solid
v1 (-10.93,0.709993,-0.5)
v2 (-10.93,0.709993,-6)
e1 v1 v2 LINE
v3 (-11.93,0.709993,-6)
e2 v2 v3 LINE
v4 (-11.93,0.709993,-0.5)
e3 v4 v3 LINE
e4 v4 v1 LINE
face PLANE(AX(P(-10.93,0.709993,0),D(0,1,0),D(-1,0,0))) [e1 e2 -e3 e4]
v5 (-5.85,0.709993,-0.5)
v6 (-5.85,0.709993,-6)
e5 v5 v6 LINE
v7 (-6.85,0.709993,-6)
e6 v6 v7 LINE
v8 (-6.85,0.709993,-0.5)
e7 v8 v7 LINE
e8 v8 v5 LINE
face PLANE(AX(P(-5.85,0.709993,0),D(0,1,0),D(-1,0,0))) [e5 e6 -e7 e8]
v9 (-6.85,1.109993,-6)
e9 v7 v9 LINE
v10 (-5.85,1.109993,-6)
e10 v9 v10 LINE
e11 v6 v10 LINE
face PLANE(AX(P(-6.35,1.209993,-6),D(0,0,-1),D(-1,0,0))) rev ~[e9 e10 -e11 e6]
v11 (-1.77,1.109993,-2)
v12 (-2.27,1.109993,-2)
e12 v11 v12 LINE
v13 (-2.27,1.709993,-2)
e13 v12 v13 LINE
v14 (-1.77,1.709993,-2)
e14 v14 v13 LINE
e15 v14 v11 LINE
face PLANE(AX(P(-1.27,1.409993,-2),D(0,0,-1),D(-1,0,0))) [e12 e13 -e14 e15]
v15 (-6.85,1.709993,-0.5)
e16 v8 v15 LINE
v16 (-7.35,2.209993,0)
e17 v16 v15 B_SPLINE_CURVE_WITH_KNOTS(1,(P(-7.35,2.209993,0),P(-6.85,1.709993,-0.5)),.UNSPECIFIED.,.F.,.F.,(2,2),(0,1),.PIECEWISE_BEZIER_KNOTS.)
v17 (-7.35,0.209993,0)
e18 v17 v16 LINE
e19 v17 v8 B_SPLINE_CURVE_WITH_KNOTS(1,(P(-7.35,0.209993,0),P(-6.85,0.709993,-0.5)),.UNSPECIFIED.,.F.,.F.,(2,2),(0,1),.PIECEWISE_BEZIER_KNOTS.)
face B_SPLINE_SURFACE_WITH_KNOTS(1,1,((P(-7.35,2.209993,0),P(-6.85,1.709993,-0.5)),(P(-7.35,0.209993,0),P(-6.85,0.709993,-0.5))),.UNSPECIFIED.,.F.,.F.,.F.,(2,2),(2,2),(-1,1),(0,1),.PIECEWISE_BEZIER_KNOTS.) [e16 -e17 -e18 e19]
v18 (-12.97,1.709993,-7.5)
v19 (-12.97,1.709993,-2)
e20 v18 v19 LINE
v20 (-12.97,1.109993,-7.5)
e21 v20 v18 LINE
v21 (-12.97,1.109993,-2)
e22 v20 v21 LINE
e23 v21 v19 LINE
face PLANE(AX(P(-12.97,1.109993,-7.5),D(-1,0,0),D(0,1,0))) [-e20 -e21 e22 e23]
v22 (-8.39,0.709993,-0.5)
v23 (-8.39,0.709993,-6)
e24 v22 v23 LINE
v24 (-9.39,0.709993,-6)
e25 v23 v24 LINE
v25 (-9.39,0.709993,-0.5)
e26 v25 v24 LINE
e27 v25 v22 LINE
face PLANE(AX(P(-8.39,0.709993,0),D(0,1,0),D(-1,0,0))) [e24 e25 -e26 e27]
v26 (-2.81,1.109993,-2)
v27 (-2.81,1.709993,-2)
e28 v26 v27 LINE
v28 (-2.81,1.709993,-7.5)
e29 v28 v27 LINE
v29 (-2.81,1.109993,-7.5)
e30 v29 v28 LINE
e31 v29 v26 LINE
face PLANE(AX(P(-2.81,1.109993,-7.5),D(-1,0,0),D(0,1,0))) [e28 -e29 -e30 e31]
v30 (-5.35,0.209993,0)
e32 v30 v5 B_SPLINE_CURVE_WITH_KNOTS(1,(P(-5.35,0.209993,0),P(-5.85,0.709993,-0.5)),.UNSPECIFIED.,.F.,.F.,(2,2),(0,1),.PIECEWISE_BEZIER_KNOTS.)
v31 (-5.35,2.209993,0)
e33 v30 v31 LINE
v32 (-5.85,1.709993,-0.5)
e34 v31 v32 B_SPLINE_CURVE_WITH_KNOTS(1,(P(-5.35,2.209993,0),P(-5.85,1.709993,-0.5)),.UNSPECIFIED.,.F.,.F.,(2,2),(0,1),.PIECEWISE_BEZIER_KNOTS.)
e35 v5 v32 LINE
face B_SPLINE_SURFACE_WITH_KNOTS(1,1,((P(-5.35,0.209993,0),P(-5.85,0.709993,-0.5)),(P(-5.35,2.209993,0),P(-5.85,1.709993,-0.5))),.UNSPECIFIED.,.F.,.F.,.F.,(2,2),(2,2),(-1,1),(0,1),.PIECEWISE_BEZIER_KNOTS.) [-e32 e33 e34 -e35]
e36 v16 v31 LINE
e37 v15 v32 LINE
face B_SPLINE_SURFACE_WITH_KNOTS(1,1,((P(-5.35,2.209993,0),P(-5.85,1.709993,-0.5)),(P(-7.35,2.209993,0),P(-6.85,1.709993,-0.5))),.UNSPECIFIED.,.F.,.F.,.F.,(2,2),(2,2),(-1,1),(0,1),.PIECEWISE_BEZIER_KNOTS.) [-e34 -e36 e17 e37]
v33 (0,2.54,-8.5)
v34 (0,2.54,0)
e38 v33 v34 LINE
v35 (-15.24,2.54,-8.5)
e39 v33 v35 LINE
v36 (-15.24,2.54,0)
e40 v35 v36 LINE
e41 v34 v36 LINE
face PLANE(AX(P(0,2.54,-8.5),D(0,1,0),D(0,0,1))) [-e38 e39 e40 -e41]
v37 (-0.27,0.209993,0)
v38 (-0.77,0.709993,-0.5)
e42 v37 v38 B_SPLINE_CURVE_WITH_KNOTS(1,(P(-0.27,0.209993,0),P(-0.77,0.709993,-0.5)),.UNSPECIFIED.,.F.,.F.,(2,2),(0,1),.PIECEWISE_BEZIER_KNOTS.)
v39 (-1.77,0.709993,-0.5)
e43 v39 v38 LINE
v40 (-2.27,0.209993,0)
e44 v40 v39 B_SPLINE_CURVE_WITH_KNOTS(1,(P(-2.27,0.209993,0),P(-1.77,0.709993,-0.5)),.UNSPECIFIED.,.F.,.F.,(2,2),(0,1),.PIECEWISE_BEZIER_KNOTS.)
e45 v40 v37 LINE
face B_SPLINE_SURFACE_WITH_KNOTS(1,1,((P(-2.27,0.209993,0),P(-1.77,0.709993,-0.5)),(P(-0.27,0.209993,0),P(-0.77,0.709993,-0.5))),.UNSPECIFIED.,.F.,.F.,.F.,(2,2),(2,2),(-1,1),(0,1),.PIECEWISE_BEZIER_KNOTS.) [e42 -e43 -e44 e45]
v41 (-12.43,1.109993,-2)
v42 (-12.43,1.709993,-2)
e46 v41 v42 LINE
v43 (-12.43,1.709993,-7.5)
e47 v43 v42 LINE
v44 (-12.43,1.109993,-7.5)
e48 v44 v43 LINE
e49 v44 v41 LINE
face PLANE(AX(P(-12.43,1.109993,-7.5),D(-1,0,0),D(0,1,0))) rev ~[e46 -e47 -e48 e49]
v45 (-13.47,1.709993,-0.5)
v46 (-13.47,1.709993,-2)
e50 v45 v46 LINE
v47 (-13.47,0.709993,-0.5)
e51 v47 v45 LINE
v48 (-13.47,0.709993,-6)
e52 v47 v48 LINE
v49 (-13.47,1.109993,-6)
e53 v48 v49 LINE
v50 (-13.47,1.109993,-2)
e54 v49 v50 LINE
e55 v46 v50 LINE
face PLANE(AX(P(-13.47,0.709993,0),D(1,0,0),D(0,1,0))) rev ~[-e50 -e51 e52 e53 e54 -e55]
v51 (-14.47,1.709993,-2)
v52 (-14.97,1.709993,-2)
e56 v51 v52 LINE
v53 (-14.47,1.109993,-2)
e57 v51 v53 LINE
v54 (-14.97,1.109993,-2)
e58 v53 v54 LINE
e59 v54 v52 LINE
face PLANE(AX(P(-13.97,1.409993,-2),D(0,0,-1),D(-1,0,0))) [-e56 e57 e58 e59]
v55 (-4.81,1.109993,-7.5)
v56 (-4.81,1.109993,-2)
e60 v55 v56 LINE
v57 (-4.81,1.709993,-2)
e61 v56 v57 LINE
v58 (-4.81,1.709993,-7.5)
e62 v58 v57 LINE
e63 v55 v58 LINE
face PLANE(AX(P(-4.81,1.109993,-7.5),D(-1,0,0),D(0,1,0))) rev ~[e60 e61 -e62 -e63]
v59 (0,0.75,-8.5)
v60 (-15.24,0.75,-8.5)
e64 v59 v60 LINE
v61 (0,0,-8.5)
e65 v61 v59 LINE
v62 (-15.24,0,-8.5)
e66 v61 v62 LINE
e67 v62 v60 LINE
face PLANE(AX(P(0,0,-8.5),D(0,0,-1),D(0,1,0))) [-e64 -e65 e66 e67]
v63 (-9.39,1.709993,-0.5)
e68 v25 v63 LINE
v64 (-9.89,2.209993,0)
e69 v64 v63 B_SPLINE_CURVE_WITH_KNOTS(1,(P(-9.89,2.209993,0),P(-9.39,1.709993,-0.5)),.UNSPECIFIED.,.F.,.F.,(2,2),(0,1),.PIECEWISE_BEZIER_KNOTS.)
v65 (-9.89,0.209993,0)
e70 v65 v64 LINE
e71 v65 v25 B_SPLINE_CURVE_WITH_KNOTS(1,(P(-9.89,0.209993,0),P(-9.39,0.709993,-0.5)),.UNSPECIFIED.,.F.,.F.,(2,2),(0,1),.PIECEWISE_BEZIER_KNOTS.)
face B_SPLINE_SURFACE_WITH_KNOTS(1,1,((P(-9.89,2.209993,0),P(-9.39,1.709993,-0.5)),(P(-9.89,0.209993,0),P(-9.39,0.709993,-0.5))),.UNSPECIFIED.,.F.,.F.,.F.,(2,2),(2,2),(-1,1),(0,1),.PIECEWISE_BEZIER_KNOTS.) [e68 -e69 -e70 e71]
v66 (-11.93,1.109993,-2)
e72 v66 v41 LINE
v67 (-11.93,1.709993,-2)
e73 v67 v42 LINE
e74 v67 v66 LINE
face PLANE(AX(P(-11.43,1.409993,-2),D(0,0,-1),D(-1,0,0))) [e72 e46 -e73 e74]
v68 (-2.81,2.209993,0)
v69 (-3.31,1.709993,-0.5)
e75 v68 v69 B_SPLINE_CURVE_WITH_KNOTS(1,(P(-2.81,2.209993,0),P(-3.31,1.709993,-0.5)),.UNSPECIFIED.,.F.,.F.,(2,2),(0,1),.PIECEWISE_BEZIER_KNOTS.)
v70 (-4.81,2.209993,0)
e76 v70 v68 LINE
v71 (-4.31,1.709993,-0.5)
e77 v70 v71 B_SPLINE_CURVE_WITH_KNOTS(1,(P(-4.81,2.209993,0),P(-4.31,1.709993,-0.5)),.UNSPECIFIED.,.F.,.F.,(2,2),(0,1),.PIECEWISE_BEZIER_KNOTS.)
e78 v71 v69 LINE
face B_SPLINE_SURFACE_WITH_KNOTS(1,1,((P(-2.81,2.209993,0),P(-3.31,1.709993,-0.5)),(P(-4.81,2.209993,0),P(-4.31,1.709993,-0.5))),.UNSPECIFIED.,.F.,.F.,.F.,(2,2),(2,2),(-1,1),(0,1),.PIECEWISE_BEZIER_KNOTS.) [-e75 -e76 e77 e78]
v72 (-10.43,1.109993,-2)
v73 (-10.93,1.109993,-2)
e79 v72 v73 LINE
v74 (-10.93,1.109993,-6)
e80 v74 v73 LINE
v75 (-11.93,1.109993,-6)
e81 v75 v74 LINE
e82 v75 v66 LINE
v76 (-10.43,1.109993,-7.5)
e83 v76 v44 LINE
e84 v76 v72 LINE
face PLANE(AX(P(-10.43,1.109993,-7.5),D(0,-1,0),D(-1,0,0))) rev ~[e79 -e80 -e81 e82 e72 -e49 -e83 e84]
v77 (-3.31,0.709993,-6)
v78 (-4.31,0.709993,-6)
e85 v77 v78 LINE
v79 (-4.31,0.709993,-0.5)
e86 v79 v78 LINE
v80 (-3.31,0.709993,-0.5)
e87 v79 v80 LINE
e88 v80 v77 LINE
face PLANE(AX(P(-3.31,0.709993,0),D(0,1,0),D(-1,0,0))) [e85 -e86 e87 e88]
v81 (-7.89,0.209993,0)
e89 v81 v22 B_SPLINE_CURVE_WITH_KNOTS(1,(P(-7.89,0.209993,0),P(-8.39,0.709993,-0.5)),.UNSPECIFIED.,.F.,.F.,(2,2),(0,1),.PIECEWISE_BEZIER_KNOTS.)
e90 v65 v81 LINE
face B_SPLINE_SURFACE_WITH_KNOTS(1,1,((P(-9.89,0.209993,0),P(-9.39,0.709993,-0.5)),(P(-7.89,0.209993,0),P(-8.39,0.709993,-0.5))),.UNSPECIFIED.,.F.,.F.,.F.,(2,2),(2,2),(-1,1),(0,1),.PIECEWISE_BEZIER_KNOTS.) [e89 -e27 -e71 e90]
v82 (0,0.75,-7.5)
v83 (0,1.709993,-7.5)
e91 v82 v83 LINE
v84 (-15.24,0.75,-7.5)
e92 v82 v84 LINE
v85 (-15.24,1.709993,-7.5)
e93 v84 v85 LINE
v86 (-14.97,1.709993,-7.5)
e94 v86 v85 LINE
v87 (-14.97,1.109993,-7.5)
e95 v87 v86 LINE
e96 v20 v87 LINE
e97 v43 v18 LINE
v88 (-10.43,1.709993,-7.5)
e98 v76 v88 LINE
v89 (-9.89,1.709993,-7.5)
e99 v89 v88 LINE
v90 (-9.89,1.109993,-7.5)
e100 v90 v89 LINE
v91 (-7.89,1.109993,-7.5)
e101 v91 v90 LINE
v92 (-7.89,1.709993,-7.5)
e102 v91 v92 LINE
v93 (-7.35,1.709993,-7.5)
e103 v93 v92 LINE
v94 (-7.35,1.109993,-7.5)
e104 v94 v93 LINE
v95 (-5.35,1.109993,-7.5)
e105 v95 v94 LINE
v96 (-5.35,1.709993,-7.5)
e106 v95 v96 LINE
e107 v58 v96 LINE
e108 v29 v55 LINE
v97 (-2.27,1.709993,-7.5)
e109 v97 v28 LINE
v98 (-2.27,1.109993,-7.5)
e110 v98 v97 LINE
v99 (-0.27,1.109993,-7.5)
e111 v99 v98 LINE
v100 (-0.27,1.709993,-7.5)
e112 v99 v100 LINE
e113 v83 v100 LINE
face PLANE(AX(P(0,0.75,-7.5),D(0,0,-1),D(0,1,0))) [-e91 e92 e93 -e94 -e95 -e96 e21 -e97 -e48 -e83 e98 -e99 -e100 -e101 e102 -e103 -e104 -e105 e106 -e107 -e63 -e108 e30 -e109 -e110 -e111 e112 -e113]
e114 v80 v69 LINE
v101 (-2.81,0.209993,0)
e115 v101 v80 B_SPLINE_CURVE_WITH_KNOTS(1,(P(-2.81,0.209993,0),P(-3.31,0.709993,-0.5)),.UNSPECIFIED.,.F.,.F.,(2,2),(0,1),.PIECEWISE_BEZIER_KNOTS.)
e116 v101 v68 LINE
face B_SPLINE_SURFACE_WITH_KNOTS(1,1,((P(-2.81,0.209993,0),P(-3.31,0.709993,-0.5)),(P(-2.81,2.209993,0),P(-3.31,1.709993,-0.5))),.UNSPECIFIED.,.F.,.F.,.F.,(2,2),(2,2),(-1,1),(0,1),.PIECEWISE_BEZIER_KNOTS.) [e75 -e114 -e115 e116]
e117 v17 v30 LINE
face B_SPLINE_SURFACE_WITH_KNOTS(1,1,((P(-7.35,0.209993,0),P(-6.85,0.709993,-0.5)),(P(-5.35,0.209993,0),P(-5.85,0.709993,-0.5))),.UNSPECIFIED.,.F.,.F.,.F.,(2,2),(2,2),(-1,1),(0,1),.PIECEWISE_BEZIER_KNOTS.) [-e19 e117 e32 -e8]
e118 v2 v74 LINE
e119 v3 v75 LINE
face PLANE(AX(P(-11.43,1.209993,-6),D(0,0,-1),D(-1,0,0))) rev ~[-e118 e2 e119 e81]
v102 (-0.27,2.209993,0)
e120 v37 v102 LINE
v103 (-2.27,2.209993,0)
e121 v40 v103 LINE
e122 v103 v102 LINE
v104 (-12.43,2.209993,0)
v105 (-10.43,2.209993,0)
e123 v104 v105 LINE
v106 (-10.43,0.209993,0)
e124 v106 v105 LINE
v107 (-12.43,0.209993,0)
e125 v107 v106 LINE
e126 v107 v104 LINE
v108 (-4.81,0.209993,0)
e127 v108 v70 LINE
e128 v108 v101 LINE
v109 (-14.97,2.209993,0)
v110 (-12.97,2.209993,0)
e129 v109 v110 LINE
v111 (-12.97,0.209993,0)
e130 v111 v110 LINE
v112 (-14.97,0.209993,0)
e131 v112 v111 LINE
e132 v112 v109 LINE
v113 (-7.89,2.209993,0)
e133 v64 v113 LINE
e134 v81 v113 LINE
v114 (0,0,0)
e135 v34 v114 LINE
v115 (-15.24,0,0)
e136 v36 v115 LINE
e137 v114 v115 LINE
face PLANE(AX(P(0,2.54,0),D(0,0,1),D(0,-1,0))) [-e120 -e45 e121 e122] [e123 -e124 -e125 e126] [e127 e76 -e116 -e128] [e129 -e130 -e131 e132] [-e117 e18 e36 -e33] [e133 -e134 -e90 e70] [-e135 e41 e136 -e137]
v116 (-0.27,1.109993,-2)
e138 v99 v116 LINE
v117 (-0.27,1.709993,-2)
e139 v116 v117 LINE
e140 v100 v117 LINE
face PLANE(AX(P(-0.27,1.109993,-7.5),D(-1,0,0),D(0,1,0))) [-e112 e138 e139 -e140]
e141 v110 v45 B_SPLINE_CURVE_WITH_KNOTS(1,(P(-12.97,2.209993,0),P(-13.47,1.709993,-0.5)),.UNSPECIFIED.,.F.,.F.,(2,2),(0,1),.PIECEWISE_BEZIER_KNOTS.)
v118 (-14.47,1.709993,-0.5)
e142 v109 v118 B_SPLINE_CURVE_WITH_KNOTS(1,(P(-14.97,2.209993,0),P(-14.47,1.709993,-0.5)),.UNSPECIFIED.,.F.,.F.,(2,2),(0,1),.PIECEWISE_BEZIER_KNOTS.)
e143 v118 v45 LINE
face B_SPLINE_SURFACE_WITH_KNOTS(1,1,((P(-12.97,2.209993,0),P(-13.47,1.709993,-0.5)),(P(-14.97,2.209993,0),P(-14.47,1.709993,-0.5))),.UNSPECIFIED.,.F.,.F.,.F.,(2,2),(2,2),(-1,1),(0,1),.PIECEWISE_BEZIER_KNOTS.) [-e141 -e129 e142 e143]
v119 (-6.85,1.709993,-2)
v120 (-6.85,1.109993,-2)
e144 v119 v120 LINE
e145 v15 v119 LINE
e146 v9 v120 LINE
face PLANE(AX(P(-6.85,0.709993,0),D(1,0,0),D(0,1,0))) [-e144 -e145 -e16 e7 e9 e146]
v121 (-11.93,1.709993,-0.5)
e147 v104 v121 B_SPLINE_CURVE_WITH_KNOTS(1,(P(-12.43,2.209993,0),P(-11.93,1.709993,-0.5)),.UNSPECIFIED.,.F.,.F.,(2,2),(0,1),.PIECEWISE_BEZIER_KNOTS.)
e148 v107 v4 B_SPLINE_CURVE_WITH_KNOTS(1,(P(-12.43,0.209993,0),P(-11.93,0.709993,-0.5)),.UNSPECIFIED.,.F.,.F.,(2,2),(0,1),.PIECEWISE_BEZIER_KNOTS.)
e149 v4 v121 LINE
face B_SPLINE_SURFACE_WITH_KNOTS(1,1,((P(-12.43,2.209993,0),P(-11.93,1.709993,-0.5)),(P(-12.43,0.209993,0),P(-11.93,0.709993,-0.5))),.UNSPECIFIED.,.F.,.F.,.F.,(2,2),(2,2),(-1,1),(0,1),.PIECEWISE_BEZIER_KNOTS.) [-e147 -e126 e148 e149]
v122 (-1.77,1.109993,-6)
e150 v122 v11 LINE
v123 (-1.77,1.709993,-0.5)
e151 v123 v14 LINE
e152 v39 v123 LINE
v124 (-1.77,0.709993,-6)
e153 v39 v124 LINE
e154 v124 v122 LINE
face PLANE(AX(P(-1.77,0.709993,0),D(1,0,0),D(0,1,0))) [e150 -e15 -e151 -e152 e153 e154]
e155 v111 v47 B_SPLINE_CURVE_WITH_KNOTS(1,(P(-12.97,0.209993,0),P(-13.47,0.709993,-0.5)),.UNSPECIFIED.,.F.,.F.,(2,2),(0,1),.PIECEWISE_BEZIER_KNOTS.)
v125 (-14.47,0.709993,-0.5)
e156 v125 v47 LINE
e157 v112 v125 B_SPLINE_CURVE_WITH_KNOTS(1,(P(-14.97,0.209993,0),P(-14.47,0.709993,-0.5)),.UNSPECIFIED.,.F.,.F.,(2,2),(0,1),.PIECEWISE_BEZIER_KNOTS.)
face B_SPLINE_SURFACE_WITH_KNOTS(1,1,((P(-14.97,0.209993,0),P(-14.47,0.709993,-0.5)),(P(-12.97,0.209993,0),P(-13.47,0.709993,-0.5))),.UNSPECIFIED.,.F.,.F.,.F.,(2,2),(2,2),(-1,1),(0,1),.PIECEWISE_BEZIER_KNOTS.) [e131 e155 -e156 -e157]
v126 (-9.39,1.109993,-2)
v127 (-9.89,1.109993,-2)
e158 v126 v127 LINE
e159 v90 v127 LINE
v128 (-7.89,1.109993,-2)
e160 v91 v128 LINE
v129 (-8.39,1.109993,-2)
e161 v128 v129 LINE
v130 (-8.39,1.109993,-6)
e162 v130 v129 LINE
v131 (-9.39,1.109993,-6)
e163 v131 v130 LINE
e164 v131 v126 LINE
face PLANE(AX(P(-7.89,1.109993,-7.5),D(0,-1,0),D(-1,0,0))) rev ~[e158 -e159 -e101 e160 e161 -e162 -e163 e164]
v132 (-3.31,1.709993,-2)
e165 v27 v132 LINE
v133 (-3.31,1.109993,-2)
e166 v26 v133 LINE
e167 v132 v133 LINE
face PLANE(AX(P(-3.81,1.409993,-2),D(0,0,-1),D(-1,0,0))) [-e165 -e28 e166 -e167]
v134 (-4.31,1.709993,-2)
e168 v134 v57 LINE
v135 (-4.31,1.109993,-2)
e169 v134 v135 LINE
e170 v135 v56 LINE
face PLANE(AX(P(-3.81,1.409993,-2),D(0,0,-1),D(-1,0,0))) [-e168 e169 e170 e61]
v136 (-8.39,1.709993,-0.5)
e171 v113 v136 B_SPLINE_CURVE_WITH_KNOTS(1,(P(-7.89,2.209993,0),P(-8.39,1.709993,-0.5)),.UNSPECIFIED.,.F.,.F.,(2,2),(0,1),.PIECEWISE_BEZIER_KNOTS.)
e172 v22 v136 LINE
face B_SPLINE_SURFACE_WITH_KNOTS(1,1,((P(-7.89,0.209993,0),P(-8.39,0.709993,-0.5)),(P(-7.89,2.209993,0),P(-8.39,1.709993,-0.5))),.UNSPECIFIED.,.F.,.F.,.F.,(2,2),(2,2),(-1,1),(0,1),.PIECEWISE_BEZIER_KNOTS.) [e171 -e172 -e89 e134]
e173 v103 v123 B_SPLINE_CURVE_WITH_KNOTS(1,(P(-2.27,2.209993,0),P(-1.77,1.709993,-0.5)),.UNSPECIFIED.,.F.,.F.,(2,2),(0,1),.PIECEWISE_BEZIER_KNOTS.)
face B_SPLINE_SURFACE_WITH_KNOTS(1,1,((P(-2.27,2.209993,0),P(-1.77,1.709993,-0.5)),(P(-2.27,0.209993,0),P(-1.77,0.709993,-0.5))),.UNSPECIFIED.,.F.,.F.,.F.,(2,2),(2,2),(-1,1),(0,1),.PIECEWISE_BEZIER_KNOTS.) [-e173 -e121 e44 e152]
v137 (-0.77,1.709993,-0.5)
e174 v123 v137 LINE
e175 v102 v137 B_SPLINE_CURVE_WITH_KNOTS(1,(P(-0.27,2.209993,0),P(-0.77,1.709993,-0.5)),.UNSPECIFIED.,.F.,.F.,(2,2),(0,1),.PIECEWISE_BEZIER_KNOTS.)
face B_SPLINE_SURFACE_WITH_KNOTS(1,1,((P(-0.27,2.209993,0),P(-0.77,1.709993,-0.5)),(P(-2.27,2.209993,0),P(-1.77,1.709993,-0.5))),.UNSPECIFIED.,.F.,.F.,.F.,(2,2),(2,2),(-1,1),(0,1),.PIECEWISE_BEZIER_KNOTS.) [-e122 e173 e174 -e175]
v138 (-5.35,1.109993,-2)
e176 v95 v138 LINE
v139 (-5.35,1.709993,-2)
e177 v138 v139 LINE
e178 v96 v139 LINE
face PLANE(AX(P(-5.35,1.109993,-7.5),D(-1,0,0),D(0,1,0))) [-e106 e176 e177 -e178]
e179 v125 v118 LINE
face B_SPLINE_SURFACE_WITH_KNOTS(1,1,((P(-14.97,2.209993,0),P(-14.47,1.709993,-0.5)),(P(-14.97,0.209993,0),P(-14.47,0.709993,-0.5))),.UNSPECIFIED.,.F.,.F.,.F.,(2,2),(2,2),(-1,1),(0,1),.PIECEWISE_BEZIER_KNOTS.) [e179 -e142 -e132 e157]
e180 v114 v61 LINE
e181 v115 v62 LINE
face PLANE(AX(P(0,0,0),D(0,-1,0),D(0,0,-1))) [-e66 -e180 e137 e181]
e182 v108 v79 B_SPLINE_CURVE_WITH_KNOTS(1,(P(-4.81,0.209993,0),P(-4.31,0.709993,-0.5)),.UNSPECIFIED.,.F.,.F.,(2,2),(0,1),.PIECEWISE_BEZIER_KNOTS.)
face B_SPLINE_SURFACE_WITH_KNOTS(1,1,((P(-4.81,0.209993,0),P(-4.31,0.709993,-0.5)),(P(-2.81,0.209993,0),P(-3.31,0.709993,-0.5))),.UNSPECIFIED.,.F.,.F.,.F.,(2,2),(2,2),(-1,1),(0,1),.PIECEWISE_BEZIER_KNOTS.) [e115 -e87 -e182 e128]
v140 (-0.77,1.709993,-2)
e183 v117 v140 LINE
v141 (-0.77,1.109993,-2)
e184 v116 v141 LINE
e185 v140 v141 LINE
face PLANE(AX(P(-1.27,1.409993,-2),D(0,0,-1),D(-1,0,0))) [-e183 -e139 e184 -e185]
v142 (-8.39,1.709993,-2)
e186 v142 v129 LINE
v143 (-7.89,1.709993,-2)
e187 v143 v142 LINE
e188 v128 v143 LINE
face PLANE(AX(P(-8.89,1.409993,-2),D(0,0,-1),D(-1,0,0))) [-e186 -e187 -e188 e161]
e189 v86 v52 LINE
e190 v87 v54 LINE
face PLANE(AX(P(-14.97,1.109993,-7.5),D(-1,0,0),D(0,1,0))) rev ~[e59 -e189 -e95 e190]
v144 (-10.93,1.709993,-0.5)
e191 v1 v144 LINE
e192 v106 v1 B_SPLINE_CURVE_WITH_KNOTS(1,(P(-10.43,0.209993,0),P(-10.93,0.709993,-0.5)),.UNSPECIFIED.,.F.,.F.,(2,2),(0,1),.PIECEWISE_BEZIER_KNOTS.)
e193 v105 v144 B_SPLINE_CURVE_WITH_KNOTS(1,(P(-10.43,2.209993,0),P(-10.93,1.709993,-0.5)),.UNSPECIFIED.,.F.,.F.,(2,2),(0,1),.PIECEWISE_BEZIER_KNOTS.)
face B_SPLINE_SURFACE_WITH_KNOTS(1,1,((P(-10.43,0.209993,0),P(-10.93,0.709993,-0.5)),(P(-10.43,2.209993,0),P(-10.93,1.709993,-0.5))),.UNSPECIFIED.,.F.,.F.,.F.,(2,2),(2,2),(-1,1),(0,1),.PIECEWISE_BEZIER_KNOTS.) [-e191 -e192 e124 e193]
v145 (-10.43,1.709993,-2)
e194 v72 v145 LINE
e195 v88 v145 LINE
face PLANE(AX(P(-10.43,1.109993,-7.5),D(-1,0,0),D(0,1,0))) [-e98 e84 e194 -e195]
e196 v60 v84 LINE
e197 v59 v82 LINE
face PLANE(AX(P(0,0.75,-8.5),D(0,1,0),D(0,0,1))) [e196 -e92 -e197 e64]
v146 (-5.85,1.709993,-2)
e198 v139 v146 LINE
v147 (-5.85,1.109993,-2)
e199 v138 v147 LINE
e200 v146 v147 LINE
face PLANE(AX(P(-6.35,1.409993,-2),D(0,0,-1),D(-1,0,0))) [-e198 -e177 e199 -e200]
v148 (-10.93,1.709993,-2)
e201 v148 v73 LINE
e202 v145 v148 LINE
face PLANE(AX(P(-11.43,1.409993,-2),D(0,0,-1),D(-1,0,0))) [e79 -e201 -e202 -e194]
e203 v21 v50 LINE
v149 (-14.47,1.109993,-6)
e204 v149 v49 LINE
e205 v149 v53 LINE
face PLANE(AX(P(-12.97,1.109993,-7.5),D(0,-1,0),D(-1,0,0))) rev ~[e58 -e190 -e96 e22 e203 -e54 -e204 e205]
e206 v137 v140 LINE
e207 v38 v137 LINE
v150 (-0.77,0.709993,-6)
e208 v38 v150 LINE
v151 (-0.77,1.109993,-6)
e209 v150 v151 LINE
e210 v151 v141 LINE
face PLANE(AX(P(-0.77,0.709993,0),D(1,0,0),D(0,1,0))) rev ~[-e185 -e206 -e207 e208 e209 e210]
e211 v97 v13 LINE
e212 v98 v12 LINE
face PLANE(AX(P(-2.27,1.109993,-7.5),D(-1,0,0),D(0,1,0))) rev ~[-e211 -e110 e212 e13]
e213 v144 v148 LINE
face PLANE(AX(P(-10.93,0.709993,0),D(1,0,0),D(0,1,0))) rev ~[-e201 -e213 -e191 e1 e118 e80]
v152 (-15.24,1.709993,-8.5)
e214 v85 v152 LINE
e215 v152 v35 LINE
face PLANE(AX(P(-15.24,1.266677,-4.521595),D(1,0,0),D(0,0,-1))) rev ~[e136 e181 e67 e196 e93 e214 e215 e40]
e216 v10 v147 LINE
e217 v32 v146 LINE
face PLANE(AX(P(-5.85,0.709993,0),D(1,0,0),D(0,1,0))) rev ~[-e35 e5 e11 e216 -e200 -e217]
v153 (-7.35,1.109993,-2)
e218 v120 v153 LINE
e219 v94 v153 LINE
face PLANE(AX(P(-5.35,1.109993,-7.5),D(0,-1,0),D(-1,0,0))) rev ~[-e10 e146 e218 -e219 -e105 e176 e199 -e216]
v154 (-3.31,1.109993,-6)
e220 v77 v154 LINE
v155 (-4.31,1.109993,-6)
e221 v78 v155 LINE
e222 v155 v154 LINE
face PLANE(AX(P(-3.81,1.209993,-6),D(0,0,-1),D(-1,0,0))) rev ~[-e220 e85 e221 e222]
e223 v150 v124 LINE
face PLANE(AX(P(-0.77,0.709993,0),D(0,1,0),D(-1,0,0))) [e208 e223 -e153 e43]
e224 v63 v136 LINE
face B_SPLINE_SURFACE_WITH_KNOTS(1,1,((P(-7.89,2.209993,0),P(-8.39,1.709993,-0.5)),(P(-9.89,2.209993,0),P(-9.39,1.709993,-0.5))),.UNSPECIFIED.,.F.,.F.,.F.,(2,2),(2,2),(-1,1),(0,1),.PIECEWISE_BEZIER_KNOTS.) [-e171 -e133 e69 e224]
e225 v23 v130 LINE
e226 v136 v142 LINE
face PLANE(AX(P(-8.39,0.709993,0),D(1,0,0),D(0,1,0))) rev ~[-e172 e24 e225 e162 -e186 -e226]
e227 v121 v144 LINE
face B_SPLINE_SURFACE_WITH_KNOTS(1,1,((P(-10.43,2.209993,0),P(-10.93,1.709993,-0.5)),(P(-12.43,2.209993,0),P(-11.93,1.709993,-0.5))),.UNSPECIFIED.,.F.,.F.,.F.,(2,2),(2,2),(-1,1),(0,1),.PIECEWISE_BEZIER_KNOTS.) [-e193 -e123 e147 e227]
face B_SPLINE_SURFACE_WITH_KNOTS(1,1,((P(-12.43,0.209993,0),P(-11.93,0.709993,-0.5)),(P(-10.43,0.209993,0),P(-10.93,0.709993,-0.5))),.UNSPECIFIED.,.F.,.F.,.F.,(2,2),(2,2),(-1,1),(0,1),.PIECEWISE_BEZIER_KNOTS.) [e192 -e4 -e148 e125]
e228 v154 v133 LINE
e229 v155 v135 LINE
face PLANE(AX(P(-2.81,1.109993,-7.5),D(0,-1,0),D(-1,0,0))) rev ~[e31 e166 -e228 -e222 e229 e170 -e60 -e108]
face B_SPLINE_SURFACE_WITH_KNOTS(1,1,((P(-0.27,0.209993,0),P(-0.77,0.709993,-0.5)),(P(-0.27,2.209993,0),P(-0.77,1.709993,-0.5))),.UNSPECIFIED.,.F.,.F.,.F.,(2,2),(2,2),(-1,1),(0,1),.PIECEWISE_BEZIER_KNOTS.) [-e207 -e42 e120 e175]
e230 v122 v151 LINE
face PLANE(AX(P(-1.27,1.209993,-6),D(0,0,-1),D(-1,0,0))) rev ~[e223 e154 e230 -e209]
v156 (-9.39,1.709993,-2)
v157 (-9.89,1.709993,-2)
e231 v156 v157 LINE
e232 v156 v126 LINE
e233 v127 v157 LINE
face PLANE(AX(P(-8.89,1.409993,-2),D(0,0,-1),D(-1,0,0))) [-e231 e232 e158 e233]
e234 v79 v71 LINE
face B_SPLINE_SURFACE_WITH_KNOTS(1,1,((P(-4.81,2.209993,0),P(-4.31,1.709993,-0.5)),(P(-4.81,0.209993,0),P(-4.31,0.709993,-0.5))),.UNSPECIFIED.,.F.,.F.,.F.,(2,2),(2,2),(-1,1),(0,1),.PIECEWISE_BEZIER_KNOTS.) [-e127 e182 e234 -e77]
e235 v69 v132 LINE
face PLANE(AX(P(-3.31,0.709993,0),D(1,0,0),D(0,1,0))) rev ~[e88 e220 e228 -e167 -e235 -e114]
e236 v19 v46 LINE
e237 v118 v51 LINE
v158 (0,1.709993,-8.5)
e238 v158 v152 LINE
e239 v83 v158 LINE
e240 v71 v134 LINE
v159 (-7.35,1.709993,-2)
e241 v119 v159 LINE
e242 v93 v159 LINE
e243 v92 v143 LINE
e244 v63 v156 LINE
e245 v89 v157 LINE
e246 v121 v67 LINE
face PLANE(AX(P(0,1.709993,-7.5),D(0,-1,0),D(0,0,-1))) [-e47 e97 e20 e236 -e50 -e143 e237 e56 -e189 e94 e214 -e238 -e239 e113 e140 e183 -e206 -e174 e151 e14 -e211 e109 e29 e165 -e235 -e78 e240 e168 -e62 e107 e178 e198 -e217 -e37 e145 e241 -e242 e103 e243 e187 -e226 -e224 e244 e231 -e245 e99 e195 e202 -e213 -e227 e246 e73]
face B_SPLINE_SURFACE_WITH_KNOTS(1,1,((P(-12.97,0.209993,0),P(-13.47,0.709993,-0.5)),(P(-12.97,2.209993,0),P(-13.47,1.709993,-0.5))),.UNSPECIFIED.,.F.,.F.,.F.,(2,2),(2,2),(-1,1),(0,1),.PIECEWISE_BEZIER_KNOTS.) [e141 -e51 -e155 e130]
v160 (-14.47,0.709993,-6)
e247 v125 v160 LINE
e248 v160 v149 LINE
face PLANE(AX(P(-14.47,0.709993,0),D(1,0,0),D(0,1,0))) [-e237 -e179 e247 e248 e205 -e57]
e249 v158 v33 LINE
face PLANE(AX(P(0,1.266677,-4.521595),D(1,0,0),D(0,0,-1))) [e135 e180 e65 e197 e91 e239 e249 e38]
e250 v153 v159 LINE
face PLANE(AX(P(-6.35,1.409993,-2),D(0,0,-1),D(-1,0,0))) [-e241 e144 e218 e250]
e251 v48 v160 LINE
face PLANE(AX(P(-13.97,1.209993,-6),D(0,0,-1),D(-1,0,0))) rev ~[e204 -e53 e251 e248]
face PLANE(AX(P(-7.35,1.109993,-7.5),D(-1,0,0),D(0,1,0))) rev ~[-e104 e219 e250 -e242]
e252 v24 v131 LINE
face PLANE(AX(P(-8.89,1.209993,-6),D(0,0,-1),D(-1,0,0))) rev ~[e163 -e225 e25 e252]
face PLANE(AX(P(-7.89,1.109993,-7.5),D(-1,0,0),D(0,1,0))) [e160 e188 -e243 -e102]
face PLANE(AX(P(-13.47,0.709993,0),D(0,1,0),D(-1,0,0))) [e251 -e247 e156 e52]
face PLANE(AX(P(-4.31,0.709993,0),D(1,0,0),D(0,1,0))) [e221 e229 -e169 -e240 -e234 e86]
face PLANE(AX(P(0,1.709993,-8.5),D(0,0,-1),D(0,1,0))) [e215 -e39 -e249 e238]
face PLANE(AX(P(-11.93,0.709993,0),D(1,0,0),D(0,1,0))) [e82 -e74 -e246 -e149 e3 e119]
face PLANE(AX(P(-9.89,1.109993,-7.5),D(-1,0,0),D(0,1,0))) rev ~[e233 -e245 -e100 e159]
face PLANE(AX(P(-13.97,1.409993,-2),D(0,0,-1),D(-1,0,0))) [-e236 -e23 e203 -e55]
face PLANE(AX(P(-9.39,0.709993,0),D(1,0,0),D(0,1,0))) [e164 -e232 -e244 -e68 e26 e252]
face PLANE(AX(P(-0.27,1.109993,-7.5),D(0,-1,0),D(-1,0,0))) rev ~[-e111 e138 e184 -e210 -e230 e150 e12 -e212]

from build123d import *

# Parameters (mm, degrees)
BOSS_EXTRUDE1_DEPTH = 15.24
SKETCH2_W           = 2
SKETCH2_H           = 0.6
CUT_EXTRUDE1_DEPTH  = 5.5
SKETCH3_W           = 1
SKETCH3_H           = 1
CUT_EXTRUDE2_DEPTH  = 6
SKETCH4_W           = 2
SKETCH4_H           = 2
CUT_EXTRUDE3_DEPTH  = 0.5
CUT_EXTRUDE3_TAPER  = 45
LPATTERN1_COUNT     = 8
LPATTERN1_PITCH     = 2.54


with BuildPart() as part:
    # Sketch1 → Boss-Extrude1 (new body)
    with BuildSketch(Plane(origin=(0, 0, 0), x_dir=(0, 0, -1), z_dir=(1, 0, 0))):
        Polygon((8.5, 2.54), (0, 2.54), (0, 0), (8.5, 0), (8.5, 0.75), (7.5, 0.75), (7.5, 1.709993), (8.5, 1.709993), align=None)
    extrude(amount=-BOSS_EXTRUDE1_DEPTH)

    # Sketch2 → Cut-Extrude1 (cut)
    with BuildSketch(Plane(origin=(0, 0, -7.5), x_dir=(-1, 0, 0), z_dir=(0, 0, -1))):
        with Locations((1.27, 1.409993)):
            Rectangle(SKETCH2_W, SKETCH2_H)
    cut_extrude1 = extrude(amount=-CUT_EXTRUDE1_DEPTH, mode=Mode.SUBTRACT)

    # Sketch3 → Cut-Extrude2 (cut)
    with BuildSketch(Plane(origin=(0, 0, 0), x_dir=(-1, 0, 0), z_dir=(0, 0, -1))):
        with Locations((1.27, 1.209993)):
            Rectangle(SKETCH3_W, SKETCH3_H)
    cut_extrude2 = extrude(amount=CUT_EXTRUDE2_DEPTH, mode=Mode.SUBTRACT)

    # Sketch4 → Cut-Extrude3 (cut)
    with BuildSketch(Plane.XY):
        with Locations((-1.27, 1.209993)):
            Rectangle(SKETCH4_W, SKETCH4_H)
    cut_extrude3 = extrude(amount=-CUT_EXTRUDE3_DEPTH, taper=CUT_EXTRUDE3_TAPER, mode=Mode.SUBTRACT)

    # LPattern1: Cut-Extrude1, Cut-Extrude2, Cut-Extrude3 ×8
    with Locations(*[(-i * LPATTERN1_PITCH, 0, 0) for i in range(1, LPATTERN1_COUNT)]):
        add(cut_extrude1, mode=Mode.SUBTRACT)
        add(cut_extrude2, mode=Mode.SUBTRACT)
        add(cut_extrude3, mode=Mode.SUBTRACT)


solid = part.part
